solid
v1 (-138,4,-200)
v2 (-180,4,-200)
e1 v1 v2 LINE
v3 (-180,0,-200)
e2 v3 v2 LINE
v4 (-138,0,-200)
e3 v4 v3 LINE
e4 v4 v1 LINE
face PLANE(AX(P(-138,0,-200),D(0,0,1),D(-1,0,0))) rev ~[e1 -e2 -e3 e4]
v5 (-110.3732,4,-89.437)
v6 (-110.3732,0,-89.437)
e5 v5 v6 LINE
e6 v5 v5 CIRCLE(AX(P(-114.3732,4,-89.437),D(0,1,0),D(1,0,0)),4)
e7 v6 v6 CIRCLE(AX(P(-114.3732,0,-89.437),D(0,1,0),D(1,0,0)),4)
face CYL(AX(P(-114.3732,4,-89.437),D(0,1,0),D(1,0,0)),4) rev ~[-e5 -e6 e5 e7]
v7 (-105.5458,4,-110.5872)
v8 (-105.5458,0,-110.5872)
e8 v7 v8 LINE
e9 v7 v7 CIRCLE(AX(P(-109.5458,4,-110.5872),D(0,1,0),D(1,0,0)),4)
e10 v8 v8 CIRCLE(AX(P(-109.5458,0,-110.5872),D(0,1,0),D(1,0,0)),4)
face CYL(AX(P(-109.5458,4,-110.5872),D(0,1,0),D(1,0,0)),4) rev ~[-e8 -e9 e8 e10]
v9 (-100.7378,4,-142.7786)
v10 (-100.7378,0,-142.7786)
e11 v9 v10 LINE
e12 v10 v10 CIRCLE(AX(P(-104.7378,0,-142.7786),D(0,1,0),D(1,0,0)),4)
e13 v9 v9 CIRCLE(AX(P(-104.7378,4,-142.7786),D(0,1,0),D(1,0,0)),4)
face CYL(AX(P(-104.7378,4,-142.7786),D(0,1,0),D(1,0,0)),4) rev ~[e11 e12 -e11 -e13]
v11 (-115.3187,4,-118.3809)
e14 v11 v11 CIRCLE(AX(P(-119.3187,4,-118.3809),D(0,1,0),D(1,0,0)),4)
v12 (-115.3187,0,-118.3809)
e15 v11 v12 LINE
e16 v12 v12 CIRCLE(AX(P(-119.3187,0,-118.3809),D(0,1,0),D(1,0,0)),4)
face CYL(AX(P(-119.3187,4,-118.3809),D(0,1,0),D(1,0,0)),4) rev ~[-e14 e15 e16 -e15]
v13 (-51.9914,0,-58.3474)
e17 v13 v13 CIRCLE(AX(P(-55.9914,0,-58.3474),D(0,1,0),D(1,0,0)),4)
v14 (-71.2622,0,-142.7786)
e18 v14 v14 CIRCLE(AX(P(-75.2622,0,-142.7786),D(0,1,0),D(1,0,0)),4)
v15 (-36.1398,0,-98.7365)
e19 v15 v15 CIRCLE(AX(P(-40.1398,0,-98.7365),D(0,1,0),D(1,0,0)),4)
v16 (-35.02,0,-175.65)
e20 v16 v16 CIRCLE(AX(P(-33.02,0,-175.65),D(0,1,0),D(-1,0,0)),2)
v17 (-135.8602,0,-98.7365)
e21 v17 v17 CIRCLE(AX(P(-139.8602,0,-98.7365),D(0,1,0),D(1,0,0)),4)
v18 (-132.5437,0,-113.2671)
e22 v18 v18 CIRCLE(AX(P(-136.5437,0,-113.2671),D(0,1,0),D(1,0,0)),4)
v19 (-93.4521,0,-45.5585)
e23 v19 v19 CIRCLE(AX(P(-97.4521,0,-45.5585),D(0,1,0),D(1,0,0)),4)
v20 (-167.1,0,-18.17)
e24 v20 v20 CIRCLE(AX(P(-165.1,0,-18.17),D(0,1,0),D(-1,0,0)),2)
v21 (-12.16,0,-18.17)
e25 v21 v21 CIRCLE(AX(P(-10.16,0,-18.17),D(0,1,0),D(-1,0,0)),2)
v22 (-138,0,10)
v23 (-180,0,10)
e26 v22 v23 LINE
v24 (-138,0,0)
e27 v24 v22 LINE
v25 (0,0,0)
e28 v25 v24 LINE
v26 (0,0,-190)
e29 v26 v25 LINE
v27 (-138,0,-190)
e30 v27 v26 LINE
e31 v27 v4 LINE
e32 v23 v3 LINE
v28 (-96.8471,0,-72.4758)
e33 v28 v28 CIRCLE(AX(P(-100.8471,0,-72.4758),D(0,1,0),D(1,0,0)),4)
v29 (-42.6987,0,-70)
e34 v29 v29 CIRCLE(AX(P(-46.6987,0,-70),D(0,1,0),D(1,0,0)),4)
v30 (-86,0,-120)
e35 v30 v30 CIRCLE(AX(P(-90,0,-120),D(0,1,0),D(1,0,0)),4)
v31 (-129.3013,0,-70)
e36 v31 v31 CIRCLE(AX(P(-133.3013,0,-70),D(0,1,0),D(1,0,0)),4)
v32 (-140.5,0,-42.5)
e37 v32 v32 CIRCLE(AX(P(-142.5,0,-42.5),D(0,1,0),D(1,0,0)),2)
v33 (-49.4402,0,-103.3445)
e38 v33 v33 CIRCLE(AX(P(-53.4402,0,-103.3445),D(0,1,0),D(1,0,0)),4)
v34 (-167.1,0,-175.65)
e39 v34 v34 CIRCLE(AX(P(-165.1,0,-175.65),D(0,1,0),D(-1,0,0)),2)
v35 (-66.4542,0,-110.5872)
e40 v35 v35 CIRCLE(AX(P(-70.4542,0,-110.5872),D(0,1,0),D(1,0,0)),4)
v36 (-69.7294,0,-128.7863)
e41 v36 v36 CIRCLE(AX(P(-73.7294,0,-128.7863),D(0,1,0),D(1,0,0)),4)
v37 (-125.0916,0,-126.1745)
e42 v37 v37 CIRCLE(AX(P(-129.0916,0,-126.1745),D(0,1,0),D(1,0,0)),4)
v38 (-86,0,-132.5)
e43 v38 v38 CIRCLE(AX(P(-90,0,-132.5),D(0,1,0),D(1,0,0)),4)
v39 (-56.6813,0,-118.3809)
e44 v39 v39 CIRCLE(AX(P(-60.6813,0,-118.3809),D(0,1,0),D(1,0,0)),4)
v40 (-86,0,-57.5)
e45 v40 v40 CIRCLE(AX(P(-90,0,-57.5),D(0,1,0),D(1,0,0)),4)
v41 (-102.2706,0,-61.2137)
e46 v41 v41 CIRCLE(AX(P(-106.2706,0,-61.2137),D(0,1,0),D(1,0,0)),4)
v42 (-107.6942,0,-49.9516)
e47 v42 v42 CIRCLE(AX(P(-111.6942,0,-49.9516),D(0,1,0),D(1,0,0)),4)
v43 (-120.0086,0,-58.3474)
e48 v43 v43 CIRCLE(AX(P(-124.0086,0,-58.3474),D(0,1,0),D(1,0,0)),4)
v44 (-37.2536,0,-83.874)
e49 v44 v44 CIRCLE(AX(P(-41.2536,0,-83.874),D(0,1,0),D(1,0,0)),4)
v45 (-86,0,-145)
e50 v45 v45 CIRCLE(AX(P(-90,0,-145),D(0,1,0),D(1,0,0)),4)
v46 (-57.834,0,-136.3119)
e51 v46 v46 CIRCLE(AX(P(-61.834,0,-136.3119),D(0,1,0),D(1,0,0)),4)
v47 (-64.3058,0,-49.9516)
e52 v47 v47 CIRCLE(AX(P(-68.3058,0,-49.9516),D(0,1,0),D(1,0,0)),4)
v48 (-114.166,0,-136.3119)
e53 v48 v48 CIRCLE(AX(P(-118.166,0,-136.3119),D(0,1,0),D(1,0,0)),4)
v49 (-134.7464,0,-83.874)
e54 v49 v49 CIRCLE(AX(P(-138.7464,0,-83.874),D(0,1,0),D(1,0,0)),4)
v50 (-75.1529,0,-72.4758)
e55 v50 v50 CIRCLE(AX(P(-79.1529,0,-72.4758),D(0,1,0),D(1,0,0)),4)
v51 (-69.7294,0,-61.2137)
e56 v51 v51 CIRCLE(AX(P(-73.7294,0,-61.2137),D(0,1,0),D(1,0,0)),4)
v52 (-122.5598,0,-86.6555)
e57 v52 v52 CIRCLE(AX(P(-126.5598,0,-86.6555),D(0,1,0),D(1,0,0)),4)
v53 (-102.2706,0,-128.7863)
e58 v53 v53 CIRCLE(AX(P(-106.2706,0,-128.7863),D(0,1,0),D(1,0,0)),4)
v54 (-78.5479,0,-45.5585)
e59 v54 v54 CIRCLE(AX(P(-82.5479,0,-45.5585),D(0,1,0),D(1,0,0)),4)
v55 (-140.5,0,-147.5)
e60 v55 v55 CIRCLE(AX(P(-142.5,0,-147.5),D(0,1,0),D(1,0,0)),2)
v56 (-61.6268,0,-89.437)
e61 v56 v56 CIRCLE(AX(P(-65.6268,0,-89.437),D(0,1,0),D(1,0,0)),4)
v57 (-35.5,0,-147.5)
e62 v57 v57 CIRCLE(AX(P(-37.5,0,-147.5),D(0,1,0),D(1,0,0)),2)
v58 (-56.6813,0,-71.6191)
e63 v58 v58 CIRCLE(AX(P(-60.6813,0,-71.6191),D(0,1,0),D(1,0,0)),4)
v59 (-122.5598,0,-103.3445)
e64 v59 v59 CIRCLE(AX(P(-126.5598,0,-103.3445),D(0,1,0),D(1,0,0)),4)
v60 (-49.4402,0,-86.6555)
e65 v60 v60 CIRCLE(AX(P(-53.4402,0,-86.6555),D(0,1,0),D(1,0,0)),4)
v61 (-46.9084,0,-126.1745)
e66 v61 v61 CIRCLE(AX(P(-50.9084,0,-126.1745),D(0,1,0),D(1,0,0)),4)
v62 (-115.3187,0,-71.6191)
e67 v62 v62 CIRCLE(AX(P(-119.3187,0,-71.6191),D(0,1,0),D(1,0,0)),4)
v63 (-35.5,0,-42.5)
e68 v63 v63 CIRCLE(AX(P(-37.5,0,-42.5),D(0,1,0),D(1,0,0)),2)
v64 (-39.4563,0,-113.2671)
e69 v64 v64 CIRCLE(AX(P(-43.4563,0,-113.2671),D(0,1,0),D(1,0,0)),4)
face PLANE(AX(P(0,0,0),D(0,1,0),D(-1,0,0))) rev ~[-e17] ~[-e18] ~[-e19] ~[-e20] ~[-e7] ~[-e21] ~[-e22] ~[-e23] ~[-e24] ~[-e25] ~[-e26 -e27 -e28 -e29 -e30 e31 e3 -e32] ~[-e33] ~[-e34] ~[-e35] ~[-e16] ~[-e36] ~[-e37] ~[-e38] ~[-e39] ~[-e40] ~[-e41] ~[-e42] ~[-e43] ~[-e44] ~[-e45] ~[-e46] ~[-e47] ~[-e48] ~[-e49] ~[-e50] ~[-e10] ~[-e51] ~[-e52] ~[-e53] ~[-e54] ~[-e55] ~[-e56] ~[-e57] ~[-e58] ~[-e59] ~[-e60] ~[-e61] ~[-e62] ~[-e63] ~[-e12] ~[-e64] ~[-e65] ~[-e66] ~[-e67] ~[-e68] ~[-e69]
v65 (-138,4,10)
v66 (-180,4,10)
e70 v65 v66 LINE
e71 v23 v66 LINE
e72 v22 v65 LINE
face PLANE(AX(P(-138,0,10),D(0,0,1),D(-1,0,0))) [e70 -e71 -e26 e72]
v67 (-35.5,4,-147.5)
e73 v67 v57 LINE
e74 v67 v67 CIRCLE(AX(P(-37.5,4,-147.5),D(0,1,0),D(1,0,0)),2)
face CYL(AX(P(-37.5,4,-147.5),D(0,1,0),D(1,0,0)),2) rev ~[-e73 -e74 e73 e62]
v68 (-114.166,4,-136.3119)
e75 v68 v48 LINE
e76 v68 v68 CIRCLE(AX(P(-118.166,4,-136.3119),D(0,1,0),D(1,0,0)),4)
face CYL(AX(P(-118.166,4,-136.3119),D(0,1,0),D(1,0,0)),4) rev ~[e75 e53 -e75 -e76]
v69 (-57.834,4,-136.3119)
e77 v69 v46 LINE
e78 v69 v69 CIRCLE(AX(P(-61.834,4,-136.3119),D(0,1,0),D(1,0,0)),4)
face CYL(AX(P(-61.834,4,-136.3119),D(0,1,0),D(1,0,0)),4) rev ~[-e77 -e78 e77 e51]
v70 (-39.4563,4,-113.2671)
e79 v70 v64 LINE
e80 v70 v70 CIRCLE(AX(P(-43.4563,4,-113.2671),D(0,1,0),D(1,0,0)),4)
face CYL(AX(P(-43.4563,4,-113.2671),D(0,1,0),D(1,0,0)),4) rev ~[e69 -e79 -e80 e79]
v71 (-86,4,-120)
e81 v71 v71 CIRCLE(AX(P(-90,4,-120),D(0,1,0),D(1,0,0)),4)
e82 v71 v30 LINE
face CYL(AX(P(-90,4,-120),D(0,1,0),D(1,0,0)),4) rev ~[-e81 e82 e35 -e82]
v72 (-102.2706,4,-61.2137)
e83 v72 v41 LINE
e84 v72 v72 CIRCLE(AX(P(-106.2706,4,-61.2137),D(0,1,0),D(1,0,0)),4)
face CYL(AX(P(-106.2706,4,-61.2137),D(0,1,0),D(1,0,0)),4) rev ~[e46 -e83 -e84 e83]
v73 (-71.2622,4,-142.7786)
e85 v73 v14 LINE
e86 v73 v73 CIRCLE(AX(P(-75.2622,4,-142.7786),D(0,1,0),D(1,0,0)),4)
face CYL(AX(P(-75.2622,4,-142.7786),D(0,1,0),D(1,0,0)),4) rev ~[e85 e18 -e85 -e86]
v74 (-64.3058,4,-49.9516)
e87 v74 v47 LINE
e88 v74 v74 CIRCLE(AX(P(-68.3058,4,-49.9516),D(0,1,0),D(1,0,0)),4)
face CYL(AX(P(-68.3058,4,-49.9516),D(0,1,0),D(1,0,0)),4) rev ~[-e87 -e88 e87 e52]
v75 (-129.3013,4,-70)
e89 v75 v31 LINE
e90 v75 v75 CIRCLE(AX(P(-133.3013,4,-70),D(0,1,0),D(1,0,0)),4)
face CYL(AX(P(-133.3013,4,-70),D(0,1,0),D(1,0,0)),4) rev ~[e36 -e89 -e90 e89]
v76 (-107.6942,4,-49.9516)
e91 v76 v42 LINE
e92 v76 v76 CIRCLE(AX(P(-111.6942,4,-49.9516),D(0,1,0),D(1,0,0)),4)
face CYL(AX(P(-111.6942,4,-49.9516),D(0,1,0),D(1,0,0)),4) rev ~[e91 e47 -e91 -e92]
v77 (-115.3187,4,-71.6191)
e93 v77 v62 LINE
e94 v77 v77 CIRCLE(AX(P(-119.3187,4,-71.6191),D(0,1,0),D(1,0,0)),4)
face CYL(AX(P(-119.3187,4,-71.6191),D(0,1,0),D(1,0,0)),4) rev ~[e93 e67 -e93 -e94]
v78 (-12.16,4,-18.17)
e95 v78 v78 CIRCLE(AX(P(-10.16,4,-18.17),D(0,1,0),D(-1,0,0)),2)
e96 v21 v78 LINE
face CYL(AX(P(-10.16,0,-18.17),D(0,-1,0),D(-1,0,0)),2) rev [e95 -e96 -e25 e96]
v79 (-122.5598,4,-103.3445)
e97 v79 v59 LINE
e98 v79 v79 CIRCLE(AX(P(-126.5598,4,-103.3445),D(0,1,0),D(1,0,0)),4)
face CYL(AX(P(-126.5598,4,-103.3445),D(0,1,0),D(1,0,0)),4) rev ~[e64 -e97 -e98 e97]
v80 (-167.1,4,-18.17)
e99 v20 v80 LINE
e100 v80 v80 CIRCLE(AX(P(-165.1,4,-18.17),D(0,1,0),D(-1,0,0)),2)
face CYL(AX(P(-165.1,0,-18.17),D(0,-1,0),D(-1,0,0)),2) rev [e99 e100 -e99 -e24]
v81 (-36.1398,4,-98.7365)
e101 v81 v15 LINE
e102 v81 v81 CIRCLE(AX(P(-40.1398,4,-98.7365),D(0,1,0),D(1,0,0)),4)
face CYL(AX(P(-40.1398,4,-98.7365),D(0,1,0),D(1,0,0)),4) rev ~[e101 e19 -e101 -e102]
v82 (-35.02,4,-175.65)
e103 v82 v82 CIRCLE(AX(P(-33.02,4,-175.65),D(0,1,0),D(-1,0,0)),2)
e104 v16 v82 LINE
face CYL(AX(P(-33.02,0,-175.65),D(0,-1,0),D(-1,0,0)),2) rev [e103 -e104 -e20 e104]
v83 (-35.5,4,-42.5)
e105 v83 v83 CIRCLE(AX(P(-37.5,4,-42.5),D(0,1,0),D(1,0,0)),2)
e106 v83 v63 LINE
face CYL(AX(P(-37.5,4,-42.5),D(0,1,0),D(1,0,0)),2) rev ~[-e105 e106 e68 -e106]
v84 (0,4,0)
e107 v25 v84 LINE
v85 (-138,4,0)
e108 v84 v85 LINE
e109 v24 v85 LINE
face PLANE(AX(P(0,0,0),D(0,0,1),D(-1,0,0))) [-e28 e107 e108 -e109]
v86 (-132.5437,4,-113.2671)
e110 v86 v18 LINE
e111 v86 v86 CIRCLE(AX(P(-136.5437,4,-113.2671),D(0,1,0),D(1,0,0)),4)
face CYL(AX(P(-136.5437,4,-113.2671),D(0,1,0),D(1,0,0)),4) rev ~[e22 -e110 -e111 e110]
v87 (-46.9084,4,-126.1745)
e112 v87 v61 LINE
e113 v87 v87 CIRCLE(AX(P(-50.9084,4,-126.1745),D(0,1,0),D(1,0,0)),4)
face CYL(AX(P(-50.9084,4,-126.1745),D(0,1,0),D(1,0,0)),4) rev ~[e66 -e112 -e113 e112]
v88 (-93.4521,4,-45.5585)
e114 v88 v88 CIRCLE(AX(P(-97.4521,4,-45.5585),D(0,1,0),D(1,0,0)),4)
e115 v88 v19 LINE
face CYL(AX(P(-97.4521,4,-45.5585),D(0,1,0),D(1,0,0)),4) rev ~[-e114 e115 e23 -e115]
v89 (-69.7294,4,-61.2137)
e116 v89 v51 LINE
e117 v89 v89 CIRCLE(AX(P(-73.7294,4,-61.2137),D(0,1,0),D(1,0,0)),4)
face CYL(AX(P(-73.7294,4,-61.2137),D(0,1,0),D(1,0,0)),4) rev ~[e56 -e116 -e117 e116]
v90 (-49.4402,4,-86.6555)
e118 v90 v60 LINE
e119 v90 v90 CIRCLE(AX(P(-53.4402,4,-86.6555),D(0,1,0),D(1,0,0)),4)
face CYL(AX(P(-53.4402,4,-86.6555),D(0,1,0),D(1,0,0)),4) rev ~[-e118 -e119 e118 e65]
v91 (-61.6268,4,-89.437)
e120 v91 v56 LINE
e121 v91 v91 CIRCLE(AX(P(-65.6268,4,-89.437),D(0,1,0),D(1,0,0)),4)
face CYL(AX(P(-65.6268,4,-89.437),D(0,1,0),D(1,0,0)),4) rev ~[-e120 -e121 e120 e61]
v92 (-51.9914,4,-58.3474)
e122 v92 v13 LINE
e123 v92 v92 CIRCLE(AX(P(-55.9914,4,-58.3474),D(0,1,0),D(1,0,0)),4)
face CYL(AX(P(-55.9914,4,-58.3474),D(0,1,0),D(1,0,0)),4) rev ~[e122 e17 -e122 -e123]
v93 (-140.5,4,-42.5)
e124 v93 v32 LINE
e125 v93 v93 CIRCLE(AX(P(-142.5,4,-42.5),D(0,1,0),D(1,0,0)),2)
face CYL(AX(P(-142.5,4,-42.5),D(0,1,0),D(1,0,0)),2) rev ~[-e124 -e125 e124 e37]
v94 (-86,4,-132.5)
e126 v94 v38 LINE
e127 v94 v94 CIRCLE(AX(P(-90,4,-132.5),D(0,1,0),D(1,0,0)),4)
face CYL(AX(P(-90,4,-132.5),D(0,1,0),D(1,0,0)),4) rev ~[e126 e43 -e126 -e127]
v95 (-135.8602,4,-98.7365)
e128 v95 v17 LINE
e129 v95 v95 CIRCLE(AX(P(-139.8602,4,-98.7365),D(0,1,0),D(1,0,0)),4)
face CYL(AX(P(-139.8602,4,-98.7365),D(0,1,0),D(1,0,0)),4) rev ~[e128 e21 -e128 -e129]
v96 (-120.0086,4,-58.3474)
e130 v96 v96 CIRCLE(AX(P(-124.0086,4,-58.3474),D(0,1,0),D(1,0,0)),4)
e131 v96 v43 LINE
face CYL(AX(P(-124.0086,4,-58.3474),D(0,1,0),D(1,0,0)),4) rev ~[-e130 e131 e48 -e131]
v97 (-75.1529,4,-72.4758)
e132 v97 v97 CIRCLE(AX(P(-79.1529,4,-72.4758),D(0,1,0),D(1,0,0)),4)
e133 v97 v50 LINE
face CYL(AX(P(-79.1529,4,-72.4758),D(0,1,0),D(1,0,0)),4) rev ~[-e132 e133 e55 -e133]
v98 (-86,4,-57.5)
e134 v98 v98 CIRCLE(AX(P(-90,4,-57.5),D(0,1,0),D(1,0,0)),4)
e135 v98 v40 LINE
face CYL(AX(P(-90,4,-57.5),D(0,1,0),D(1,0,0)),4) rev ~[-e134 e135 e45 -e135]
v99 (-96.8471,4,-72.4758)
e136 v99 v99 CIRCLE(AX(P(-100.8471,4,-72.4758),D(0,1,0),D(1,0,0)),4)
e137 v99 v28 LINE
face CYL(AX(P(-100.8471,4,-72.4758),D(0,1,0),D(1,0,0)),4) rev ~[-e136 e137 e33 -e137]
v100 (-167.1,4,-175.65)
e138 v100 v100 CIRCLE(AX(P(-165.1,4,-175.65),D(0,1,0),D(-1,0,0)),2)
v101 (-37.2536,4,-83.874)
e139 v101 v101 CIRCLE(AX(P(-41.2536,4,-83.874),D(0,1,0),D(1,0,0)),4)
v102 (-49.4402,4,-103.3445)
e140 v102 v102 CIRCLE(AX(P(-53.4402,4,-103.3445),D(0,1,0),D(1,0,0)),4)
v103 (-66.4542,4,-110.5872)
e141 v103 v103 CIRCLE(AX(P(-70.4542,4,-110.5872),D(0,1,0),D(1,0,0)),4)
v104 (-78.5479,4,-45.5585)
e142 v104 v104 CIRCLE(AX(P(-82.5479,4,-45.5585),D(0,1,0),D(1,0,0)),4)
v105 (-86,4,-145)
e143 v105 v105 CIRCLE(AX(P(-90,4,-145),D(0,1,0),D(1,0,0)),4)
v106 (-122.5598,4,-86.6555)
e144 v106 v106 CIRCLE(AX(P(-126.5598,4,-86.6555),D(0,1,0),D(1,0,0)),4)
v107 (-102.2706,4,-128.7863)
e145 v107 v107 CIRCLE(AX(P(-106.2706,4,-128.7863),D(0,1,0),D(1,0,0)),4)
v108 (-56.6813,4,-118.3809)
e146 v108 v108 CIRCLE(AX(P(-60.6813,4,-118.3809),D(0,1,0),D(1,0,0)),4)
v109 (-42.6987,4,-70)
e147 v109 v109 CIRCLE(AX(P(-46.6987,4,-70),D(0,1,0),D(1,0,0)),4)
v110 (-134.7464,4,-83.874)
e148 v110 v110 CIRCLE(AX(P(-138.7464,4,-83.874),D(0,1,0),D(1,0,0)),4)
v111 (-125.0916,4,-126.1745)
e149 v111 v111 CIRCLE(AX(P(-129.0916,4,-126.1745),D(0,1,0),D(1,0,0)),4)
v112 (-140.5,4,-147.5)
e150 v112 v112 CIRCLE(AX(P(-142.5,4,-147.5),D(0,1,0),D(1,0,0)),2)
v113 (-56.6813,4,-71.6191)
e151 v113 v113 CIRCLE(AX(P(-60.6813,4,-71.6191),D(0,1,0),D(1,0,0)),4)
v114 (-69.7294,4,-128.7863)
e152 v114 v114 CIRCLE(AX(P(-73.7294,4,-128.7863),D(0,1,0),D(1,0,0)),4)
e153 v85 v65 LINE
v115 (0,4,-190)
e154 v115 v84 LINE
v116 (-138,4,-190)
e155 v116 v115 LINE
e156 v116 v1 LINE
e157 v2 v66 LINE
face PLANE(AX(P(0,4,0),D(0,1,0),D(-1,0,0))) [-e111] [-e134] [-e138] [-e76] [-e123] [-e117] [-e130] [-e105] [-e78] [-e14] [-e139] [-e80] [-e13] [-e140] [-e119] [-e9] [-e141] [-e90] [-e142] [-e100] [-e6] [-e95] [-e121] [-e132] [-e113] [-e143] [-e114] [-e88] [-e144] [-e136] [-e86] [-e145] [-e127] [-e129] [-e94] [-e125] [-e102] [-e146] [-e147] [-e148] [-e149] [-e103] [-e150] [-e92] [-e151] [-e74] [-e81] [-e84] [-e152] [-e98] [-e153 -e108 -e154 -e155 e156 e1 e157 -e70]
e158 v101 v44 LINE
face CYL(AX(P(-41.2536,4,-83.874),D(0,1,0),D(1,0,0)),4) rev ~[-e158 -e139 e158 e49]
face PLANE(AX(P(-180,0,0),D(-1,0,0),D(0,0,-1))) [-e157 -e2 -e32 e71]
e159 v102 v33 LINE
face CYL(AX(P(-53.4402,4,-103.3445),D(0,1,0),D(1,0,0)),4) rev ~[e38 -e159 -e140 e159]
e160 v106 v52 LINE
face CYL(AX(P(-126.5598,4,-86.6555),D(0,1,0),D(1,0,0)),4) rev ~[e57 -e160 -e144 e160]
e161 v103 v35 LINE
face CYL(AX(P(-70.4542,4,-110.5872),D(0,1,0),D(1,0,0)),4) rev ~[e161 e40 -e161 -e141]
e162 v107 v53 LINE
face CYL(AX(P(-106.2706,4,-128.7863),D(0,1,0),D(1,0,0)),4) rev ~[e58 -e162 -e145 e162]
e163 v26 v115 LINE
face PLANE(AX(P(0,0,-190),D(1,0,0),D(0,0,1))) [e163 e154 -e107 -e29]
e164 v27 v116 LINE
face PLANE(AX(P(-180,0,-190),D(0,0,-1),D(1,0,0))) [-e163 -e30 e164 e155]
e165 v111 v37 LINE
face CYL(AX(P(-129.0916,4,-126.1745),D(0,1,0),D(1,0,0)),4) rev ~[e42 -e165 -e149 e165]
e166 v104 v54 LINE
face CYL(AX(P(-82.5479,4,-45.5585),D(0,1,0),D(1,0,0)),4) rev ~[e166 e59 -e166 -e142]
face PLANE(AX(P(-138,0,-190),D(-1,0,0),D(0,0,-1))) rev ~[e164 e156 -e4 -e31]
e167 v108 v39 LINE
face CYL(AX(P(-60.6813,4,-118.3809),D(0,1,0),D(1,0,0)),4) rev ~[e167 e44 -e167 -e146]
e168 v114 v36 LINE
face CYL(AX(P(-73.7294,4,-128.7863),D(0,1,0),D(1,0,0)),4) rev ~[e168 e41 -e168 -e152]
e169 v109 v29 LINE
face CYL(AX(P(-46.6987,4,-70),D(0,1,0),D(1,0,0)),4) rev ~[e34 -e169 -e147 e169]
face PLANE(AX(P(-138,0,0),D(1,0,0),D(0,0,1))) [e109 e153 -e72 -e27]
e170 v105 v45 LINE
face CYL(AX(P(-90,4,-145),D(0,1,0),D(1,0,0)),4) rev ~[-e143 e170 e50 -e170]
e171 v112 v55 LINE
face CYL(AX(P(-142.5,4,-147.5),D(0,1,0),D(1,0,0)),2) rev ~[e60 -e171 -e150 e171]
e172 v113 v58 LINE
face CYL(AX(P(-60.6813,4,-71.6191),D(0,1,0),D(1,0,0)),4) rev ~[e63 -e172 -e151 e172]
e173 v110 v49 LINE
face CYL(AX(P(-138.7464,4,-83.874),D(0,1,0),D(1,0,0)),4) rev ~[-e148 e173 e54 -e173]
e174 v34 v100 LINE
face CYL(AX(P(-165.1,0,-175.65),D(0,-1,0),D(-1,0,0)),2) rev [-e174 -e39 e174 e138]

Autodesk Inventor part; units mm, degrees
ref_plane "YZ Plane" through (0, 0, 0) normal (1, 0, 0) x (0, 1, 0)
ref_plane "XZ Plane" through (0, 0, 0) normal (0, 1, 0) x (-1, 0, 0)
ref_plane "XY Plane" through (0, 0, 0) normal (0, 0, 1) x (1, 0, 0)
sketch "Skizze1" plane through (0, 0, 0) normal (0, 1, 0) x (-1, 0, 0)
  line L0 (0, 0) -> (180, 0)
  line L1 (180, 0) -> (180, -190)
  line L2 (180, -190) -> (0, -190)
  line L3 (0, -190) -> (0, 0)
  circle A0 centre (165.1, -18.17) radius 2 projected
  circle A1 centre (165.1, -175.65) radius 2 projected
  circle A2 centre (33.02, -175.65) radius 2 projected
  circle A3 centre (10.16, -18.17) radius 2 projected
  dimension "d0" = 190
  dimension "d1" = 180
extrude "Extrusion1" add sketch "Skizze1" along normal blind 4
sketch "Skizze2" plane through (0, 4, 0) normal (0, 1, 0) x (1, 0, 0)
  circle A0 centre (-90, 95) radius 95 construction
  line L0 (0, 190) -> (-180, 190) projected
  line L1 (-180, 0) -> (0, 0) projected
  circle A1 centre (-90, 95) radius 4 construction
  circle A2 centre (-90, 107.5) radius 4 construction
  circle A3 centre (-90, 120) radius 4
  circle A4 centre (-90, 132.5) radius 4
  circle A5 centre (-90, 145) radius 4
  line L2 (-180, 190) -> (-180, 0) projected
  line L3 (-180, 95) -> (0, 95) construction
  line L4 (0, 0) -> (0, 190) projected
  line L5 (-90, 145) -> (-90, 132.5) construction
  line L6 (-90, 132.5) -> (-90, 120) construction
  line L7 (-90, 120) -> (-90, 107.5) construction
  line L8 (-90, 107.5) -> (-90, 95) construction
  circle A6 centre (-104.7378, 142.7786) radius 4
  circle A7 centre (-118.166, 136.3119) radius 4
  circle A8 centre (-129.0916, 126.1745) radius 4
  circle A9 centre (-136.5437, 113.2671) radius 4
  circle A10 centre (-139.8602, 98.7365) radius 4
  circle A11 centre (-138.7464, 83.874) radius 4
  circle A12 centre (-133.3013, 70) radius 4
  circle A13 centre (-124.0086, 58.3474) radius 4
  circle A14 centre (-111.6942, 49.9516) radius 4
  circle A15 centre (-97.4521, 45.5585) radius 4
  circle A16 centre (-82.5479, 45.5585) radius 4
  circle A17 centre (-68.3058, 49.9516) radius 4
  circle A18 centre (-55.9914, 58.3474) radius 4
  circle A19 centre (-46.6987, 70) radius 4
  circle A20 centre (-41.2536, 83.874) radius 4
  circle A21 centre (-40.1398, 98.7365) radius 4
  circle A22 centre (-43.4563, 113.2671) radius 4
  circle A23 centre (-50.9084, 126.1745) radius 4
  circle A24 centre (-61.834, 136.3119) radius 4
  circle A25 centre (-106.2706, 128.7863) radius 4
  circle A26 centre (-119.3187, 118.3809) radius 4
  circle A27 centre (-126.5598, 103.3445) radius 4
  circle A28 centre (-126.5598, 86.6555) radius 4
  circle A29 centre (-119.3187, 71.6191) radius 4
  circle A30 centre (-106.2706, 61.2137) radius 4
  circle A31 centre (-90, 57.5) radius 4
  circle A32 centre (-73.7294, 61.2137) radius 4
  circle A33 centre (-60.6813, 71.6191) radius 4
  circle A34 centre (-53.4402, 86.6555) radius 4
  circle A35 centre (-53.4402, 103.3445) radius 4
  circle A36 centre (-60.6813, 118.3809) radius 4
  circle A37 centre (-73.7294, 128.7863) radius 4
  circle A38 centre (-109.5458, 110.5872) radius 4
  circle A39 centre (-114.3732, 89.437) radius 4
  circle A40 centre (-100.8471, 72.4758) radius 4
  circle A41 centre (-79.1529, 72.4758) radius 4
  circle A42 centre (-65.6268, 89.437) radius 4
  circle A43 centre (-70.4542, 110.5872) radius 4
  circle A44 centre (-75.2622, 142.7786) radius 4
  circle A45 centre (-37.5, 147.5) radius 2
  circle A46 centre (-37.5, 42.5) radius 2
  circle A47 centre (-142.5, 42.5) radius 2
  circle A48 centre (-142.5, 147.5) radius 2
  line L9 (-142.5, 147.5) -> (-37.5, 147.5) construction
  line L10 (-37.5, 147.5) -> (-37.5, 42.5) construction
  line L11 (-37.5, 42.5) -> (-142.5, 42.5) construction
  line L12 (-142.5, 42.5) -> (-142.5, 147.5) construction
  line L13 (-90, 147.5) -> (-90, 95) construction
  line L14 (-90, 95) -> (-37.5, 95) construction
  dimension "d4" = 8
  dimension "d5" = 50
  dimension "d8" = 360
  dimension "d12" = 360
  dimension "d16" = 360
  dimension "d20" = 4
  dimension "d21" = 105
extrude "Extrusion2" cut sketch "Skizze2" against normal blind 4 contours A3 | A4 | A5 | A6 | A7 | A8 | A9 | A10 | A11 | A12 | A13 | A14 | A15 | A16 | A17 | A18 | A19 | A20 | A21 | A22 | A23 | A24 | A25 | A26 | A27 | A28 | A29 | A30 | A31 | A32 | A33 | A34 | A35 | A36 | A37 | A38 | A39 | A40 | A41 | A42 | A43 | A44 | A45 | A46 | A47 | A48
sketch "Skizze3" plane through (0, 0, 0) normal (0, -1, 0) x (1, 0, 0)
  line L0 (0, -190) -> (-180, -190) projected
  line L1 (-180, -190) -> (-138, -190)
  line L2 (-138, -190) -> (-138, -200)
  line L3 (-138, -200) -> (-180, -200)
  line L4 (-180, -200) -> (-180, -190)
  line L5 (-180, 0) -> (-138, 0)
  line L6 (-138, 0) -> (-138, 10)
  line L7 (-138, 10) -> (-180, 10)
  line L8 (-180, 10) -> (-180, 0)
  line L9 (0, 0) -> (0, -190) projected
  dimension "d22" = 10
  dimension "d23" = 138
extrude "Extrusion3" add sketch "Skizze3" against normal blind 4
properties part number "Platte2" material "Pappel"
